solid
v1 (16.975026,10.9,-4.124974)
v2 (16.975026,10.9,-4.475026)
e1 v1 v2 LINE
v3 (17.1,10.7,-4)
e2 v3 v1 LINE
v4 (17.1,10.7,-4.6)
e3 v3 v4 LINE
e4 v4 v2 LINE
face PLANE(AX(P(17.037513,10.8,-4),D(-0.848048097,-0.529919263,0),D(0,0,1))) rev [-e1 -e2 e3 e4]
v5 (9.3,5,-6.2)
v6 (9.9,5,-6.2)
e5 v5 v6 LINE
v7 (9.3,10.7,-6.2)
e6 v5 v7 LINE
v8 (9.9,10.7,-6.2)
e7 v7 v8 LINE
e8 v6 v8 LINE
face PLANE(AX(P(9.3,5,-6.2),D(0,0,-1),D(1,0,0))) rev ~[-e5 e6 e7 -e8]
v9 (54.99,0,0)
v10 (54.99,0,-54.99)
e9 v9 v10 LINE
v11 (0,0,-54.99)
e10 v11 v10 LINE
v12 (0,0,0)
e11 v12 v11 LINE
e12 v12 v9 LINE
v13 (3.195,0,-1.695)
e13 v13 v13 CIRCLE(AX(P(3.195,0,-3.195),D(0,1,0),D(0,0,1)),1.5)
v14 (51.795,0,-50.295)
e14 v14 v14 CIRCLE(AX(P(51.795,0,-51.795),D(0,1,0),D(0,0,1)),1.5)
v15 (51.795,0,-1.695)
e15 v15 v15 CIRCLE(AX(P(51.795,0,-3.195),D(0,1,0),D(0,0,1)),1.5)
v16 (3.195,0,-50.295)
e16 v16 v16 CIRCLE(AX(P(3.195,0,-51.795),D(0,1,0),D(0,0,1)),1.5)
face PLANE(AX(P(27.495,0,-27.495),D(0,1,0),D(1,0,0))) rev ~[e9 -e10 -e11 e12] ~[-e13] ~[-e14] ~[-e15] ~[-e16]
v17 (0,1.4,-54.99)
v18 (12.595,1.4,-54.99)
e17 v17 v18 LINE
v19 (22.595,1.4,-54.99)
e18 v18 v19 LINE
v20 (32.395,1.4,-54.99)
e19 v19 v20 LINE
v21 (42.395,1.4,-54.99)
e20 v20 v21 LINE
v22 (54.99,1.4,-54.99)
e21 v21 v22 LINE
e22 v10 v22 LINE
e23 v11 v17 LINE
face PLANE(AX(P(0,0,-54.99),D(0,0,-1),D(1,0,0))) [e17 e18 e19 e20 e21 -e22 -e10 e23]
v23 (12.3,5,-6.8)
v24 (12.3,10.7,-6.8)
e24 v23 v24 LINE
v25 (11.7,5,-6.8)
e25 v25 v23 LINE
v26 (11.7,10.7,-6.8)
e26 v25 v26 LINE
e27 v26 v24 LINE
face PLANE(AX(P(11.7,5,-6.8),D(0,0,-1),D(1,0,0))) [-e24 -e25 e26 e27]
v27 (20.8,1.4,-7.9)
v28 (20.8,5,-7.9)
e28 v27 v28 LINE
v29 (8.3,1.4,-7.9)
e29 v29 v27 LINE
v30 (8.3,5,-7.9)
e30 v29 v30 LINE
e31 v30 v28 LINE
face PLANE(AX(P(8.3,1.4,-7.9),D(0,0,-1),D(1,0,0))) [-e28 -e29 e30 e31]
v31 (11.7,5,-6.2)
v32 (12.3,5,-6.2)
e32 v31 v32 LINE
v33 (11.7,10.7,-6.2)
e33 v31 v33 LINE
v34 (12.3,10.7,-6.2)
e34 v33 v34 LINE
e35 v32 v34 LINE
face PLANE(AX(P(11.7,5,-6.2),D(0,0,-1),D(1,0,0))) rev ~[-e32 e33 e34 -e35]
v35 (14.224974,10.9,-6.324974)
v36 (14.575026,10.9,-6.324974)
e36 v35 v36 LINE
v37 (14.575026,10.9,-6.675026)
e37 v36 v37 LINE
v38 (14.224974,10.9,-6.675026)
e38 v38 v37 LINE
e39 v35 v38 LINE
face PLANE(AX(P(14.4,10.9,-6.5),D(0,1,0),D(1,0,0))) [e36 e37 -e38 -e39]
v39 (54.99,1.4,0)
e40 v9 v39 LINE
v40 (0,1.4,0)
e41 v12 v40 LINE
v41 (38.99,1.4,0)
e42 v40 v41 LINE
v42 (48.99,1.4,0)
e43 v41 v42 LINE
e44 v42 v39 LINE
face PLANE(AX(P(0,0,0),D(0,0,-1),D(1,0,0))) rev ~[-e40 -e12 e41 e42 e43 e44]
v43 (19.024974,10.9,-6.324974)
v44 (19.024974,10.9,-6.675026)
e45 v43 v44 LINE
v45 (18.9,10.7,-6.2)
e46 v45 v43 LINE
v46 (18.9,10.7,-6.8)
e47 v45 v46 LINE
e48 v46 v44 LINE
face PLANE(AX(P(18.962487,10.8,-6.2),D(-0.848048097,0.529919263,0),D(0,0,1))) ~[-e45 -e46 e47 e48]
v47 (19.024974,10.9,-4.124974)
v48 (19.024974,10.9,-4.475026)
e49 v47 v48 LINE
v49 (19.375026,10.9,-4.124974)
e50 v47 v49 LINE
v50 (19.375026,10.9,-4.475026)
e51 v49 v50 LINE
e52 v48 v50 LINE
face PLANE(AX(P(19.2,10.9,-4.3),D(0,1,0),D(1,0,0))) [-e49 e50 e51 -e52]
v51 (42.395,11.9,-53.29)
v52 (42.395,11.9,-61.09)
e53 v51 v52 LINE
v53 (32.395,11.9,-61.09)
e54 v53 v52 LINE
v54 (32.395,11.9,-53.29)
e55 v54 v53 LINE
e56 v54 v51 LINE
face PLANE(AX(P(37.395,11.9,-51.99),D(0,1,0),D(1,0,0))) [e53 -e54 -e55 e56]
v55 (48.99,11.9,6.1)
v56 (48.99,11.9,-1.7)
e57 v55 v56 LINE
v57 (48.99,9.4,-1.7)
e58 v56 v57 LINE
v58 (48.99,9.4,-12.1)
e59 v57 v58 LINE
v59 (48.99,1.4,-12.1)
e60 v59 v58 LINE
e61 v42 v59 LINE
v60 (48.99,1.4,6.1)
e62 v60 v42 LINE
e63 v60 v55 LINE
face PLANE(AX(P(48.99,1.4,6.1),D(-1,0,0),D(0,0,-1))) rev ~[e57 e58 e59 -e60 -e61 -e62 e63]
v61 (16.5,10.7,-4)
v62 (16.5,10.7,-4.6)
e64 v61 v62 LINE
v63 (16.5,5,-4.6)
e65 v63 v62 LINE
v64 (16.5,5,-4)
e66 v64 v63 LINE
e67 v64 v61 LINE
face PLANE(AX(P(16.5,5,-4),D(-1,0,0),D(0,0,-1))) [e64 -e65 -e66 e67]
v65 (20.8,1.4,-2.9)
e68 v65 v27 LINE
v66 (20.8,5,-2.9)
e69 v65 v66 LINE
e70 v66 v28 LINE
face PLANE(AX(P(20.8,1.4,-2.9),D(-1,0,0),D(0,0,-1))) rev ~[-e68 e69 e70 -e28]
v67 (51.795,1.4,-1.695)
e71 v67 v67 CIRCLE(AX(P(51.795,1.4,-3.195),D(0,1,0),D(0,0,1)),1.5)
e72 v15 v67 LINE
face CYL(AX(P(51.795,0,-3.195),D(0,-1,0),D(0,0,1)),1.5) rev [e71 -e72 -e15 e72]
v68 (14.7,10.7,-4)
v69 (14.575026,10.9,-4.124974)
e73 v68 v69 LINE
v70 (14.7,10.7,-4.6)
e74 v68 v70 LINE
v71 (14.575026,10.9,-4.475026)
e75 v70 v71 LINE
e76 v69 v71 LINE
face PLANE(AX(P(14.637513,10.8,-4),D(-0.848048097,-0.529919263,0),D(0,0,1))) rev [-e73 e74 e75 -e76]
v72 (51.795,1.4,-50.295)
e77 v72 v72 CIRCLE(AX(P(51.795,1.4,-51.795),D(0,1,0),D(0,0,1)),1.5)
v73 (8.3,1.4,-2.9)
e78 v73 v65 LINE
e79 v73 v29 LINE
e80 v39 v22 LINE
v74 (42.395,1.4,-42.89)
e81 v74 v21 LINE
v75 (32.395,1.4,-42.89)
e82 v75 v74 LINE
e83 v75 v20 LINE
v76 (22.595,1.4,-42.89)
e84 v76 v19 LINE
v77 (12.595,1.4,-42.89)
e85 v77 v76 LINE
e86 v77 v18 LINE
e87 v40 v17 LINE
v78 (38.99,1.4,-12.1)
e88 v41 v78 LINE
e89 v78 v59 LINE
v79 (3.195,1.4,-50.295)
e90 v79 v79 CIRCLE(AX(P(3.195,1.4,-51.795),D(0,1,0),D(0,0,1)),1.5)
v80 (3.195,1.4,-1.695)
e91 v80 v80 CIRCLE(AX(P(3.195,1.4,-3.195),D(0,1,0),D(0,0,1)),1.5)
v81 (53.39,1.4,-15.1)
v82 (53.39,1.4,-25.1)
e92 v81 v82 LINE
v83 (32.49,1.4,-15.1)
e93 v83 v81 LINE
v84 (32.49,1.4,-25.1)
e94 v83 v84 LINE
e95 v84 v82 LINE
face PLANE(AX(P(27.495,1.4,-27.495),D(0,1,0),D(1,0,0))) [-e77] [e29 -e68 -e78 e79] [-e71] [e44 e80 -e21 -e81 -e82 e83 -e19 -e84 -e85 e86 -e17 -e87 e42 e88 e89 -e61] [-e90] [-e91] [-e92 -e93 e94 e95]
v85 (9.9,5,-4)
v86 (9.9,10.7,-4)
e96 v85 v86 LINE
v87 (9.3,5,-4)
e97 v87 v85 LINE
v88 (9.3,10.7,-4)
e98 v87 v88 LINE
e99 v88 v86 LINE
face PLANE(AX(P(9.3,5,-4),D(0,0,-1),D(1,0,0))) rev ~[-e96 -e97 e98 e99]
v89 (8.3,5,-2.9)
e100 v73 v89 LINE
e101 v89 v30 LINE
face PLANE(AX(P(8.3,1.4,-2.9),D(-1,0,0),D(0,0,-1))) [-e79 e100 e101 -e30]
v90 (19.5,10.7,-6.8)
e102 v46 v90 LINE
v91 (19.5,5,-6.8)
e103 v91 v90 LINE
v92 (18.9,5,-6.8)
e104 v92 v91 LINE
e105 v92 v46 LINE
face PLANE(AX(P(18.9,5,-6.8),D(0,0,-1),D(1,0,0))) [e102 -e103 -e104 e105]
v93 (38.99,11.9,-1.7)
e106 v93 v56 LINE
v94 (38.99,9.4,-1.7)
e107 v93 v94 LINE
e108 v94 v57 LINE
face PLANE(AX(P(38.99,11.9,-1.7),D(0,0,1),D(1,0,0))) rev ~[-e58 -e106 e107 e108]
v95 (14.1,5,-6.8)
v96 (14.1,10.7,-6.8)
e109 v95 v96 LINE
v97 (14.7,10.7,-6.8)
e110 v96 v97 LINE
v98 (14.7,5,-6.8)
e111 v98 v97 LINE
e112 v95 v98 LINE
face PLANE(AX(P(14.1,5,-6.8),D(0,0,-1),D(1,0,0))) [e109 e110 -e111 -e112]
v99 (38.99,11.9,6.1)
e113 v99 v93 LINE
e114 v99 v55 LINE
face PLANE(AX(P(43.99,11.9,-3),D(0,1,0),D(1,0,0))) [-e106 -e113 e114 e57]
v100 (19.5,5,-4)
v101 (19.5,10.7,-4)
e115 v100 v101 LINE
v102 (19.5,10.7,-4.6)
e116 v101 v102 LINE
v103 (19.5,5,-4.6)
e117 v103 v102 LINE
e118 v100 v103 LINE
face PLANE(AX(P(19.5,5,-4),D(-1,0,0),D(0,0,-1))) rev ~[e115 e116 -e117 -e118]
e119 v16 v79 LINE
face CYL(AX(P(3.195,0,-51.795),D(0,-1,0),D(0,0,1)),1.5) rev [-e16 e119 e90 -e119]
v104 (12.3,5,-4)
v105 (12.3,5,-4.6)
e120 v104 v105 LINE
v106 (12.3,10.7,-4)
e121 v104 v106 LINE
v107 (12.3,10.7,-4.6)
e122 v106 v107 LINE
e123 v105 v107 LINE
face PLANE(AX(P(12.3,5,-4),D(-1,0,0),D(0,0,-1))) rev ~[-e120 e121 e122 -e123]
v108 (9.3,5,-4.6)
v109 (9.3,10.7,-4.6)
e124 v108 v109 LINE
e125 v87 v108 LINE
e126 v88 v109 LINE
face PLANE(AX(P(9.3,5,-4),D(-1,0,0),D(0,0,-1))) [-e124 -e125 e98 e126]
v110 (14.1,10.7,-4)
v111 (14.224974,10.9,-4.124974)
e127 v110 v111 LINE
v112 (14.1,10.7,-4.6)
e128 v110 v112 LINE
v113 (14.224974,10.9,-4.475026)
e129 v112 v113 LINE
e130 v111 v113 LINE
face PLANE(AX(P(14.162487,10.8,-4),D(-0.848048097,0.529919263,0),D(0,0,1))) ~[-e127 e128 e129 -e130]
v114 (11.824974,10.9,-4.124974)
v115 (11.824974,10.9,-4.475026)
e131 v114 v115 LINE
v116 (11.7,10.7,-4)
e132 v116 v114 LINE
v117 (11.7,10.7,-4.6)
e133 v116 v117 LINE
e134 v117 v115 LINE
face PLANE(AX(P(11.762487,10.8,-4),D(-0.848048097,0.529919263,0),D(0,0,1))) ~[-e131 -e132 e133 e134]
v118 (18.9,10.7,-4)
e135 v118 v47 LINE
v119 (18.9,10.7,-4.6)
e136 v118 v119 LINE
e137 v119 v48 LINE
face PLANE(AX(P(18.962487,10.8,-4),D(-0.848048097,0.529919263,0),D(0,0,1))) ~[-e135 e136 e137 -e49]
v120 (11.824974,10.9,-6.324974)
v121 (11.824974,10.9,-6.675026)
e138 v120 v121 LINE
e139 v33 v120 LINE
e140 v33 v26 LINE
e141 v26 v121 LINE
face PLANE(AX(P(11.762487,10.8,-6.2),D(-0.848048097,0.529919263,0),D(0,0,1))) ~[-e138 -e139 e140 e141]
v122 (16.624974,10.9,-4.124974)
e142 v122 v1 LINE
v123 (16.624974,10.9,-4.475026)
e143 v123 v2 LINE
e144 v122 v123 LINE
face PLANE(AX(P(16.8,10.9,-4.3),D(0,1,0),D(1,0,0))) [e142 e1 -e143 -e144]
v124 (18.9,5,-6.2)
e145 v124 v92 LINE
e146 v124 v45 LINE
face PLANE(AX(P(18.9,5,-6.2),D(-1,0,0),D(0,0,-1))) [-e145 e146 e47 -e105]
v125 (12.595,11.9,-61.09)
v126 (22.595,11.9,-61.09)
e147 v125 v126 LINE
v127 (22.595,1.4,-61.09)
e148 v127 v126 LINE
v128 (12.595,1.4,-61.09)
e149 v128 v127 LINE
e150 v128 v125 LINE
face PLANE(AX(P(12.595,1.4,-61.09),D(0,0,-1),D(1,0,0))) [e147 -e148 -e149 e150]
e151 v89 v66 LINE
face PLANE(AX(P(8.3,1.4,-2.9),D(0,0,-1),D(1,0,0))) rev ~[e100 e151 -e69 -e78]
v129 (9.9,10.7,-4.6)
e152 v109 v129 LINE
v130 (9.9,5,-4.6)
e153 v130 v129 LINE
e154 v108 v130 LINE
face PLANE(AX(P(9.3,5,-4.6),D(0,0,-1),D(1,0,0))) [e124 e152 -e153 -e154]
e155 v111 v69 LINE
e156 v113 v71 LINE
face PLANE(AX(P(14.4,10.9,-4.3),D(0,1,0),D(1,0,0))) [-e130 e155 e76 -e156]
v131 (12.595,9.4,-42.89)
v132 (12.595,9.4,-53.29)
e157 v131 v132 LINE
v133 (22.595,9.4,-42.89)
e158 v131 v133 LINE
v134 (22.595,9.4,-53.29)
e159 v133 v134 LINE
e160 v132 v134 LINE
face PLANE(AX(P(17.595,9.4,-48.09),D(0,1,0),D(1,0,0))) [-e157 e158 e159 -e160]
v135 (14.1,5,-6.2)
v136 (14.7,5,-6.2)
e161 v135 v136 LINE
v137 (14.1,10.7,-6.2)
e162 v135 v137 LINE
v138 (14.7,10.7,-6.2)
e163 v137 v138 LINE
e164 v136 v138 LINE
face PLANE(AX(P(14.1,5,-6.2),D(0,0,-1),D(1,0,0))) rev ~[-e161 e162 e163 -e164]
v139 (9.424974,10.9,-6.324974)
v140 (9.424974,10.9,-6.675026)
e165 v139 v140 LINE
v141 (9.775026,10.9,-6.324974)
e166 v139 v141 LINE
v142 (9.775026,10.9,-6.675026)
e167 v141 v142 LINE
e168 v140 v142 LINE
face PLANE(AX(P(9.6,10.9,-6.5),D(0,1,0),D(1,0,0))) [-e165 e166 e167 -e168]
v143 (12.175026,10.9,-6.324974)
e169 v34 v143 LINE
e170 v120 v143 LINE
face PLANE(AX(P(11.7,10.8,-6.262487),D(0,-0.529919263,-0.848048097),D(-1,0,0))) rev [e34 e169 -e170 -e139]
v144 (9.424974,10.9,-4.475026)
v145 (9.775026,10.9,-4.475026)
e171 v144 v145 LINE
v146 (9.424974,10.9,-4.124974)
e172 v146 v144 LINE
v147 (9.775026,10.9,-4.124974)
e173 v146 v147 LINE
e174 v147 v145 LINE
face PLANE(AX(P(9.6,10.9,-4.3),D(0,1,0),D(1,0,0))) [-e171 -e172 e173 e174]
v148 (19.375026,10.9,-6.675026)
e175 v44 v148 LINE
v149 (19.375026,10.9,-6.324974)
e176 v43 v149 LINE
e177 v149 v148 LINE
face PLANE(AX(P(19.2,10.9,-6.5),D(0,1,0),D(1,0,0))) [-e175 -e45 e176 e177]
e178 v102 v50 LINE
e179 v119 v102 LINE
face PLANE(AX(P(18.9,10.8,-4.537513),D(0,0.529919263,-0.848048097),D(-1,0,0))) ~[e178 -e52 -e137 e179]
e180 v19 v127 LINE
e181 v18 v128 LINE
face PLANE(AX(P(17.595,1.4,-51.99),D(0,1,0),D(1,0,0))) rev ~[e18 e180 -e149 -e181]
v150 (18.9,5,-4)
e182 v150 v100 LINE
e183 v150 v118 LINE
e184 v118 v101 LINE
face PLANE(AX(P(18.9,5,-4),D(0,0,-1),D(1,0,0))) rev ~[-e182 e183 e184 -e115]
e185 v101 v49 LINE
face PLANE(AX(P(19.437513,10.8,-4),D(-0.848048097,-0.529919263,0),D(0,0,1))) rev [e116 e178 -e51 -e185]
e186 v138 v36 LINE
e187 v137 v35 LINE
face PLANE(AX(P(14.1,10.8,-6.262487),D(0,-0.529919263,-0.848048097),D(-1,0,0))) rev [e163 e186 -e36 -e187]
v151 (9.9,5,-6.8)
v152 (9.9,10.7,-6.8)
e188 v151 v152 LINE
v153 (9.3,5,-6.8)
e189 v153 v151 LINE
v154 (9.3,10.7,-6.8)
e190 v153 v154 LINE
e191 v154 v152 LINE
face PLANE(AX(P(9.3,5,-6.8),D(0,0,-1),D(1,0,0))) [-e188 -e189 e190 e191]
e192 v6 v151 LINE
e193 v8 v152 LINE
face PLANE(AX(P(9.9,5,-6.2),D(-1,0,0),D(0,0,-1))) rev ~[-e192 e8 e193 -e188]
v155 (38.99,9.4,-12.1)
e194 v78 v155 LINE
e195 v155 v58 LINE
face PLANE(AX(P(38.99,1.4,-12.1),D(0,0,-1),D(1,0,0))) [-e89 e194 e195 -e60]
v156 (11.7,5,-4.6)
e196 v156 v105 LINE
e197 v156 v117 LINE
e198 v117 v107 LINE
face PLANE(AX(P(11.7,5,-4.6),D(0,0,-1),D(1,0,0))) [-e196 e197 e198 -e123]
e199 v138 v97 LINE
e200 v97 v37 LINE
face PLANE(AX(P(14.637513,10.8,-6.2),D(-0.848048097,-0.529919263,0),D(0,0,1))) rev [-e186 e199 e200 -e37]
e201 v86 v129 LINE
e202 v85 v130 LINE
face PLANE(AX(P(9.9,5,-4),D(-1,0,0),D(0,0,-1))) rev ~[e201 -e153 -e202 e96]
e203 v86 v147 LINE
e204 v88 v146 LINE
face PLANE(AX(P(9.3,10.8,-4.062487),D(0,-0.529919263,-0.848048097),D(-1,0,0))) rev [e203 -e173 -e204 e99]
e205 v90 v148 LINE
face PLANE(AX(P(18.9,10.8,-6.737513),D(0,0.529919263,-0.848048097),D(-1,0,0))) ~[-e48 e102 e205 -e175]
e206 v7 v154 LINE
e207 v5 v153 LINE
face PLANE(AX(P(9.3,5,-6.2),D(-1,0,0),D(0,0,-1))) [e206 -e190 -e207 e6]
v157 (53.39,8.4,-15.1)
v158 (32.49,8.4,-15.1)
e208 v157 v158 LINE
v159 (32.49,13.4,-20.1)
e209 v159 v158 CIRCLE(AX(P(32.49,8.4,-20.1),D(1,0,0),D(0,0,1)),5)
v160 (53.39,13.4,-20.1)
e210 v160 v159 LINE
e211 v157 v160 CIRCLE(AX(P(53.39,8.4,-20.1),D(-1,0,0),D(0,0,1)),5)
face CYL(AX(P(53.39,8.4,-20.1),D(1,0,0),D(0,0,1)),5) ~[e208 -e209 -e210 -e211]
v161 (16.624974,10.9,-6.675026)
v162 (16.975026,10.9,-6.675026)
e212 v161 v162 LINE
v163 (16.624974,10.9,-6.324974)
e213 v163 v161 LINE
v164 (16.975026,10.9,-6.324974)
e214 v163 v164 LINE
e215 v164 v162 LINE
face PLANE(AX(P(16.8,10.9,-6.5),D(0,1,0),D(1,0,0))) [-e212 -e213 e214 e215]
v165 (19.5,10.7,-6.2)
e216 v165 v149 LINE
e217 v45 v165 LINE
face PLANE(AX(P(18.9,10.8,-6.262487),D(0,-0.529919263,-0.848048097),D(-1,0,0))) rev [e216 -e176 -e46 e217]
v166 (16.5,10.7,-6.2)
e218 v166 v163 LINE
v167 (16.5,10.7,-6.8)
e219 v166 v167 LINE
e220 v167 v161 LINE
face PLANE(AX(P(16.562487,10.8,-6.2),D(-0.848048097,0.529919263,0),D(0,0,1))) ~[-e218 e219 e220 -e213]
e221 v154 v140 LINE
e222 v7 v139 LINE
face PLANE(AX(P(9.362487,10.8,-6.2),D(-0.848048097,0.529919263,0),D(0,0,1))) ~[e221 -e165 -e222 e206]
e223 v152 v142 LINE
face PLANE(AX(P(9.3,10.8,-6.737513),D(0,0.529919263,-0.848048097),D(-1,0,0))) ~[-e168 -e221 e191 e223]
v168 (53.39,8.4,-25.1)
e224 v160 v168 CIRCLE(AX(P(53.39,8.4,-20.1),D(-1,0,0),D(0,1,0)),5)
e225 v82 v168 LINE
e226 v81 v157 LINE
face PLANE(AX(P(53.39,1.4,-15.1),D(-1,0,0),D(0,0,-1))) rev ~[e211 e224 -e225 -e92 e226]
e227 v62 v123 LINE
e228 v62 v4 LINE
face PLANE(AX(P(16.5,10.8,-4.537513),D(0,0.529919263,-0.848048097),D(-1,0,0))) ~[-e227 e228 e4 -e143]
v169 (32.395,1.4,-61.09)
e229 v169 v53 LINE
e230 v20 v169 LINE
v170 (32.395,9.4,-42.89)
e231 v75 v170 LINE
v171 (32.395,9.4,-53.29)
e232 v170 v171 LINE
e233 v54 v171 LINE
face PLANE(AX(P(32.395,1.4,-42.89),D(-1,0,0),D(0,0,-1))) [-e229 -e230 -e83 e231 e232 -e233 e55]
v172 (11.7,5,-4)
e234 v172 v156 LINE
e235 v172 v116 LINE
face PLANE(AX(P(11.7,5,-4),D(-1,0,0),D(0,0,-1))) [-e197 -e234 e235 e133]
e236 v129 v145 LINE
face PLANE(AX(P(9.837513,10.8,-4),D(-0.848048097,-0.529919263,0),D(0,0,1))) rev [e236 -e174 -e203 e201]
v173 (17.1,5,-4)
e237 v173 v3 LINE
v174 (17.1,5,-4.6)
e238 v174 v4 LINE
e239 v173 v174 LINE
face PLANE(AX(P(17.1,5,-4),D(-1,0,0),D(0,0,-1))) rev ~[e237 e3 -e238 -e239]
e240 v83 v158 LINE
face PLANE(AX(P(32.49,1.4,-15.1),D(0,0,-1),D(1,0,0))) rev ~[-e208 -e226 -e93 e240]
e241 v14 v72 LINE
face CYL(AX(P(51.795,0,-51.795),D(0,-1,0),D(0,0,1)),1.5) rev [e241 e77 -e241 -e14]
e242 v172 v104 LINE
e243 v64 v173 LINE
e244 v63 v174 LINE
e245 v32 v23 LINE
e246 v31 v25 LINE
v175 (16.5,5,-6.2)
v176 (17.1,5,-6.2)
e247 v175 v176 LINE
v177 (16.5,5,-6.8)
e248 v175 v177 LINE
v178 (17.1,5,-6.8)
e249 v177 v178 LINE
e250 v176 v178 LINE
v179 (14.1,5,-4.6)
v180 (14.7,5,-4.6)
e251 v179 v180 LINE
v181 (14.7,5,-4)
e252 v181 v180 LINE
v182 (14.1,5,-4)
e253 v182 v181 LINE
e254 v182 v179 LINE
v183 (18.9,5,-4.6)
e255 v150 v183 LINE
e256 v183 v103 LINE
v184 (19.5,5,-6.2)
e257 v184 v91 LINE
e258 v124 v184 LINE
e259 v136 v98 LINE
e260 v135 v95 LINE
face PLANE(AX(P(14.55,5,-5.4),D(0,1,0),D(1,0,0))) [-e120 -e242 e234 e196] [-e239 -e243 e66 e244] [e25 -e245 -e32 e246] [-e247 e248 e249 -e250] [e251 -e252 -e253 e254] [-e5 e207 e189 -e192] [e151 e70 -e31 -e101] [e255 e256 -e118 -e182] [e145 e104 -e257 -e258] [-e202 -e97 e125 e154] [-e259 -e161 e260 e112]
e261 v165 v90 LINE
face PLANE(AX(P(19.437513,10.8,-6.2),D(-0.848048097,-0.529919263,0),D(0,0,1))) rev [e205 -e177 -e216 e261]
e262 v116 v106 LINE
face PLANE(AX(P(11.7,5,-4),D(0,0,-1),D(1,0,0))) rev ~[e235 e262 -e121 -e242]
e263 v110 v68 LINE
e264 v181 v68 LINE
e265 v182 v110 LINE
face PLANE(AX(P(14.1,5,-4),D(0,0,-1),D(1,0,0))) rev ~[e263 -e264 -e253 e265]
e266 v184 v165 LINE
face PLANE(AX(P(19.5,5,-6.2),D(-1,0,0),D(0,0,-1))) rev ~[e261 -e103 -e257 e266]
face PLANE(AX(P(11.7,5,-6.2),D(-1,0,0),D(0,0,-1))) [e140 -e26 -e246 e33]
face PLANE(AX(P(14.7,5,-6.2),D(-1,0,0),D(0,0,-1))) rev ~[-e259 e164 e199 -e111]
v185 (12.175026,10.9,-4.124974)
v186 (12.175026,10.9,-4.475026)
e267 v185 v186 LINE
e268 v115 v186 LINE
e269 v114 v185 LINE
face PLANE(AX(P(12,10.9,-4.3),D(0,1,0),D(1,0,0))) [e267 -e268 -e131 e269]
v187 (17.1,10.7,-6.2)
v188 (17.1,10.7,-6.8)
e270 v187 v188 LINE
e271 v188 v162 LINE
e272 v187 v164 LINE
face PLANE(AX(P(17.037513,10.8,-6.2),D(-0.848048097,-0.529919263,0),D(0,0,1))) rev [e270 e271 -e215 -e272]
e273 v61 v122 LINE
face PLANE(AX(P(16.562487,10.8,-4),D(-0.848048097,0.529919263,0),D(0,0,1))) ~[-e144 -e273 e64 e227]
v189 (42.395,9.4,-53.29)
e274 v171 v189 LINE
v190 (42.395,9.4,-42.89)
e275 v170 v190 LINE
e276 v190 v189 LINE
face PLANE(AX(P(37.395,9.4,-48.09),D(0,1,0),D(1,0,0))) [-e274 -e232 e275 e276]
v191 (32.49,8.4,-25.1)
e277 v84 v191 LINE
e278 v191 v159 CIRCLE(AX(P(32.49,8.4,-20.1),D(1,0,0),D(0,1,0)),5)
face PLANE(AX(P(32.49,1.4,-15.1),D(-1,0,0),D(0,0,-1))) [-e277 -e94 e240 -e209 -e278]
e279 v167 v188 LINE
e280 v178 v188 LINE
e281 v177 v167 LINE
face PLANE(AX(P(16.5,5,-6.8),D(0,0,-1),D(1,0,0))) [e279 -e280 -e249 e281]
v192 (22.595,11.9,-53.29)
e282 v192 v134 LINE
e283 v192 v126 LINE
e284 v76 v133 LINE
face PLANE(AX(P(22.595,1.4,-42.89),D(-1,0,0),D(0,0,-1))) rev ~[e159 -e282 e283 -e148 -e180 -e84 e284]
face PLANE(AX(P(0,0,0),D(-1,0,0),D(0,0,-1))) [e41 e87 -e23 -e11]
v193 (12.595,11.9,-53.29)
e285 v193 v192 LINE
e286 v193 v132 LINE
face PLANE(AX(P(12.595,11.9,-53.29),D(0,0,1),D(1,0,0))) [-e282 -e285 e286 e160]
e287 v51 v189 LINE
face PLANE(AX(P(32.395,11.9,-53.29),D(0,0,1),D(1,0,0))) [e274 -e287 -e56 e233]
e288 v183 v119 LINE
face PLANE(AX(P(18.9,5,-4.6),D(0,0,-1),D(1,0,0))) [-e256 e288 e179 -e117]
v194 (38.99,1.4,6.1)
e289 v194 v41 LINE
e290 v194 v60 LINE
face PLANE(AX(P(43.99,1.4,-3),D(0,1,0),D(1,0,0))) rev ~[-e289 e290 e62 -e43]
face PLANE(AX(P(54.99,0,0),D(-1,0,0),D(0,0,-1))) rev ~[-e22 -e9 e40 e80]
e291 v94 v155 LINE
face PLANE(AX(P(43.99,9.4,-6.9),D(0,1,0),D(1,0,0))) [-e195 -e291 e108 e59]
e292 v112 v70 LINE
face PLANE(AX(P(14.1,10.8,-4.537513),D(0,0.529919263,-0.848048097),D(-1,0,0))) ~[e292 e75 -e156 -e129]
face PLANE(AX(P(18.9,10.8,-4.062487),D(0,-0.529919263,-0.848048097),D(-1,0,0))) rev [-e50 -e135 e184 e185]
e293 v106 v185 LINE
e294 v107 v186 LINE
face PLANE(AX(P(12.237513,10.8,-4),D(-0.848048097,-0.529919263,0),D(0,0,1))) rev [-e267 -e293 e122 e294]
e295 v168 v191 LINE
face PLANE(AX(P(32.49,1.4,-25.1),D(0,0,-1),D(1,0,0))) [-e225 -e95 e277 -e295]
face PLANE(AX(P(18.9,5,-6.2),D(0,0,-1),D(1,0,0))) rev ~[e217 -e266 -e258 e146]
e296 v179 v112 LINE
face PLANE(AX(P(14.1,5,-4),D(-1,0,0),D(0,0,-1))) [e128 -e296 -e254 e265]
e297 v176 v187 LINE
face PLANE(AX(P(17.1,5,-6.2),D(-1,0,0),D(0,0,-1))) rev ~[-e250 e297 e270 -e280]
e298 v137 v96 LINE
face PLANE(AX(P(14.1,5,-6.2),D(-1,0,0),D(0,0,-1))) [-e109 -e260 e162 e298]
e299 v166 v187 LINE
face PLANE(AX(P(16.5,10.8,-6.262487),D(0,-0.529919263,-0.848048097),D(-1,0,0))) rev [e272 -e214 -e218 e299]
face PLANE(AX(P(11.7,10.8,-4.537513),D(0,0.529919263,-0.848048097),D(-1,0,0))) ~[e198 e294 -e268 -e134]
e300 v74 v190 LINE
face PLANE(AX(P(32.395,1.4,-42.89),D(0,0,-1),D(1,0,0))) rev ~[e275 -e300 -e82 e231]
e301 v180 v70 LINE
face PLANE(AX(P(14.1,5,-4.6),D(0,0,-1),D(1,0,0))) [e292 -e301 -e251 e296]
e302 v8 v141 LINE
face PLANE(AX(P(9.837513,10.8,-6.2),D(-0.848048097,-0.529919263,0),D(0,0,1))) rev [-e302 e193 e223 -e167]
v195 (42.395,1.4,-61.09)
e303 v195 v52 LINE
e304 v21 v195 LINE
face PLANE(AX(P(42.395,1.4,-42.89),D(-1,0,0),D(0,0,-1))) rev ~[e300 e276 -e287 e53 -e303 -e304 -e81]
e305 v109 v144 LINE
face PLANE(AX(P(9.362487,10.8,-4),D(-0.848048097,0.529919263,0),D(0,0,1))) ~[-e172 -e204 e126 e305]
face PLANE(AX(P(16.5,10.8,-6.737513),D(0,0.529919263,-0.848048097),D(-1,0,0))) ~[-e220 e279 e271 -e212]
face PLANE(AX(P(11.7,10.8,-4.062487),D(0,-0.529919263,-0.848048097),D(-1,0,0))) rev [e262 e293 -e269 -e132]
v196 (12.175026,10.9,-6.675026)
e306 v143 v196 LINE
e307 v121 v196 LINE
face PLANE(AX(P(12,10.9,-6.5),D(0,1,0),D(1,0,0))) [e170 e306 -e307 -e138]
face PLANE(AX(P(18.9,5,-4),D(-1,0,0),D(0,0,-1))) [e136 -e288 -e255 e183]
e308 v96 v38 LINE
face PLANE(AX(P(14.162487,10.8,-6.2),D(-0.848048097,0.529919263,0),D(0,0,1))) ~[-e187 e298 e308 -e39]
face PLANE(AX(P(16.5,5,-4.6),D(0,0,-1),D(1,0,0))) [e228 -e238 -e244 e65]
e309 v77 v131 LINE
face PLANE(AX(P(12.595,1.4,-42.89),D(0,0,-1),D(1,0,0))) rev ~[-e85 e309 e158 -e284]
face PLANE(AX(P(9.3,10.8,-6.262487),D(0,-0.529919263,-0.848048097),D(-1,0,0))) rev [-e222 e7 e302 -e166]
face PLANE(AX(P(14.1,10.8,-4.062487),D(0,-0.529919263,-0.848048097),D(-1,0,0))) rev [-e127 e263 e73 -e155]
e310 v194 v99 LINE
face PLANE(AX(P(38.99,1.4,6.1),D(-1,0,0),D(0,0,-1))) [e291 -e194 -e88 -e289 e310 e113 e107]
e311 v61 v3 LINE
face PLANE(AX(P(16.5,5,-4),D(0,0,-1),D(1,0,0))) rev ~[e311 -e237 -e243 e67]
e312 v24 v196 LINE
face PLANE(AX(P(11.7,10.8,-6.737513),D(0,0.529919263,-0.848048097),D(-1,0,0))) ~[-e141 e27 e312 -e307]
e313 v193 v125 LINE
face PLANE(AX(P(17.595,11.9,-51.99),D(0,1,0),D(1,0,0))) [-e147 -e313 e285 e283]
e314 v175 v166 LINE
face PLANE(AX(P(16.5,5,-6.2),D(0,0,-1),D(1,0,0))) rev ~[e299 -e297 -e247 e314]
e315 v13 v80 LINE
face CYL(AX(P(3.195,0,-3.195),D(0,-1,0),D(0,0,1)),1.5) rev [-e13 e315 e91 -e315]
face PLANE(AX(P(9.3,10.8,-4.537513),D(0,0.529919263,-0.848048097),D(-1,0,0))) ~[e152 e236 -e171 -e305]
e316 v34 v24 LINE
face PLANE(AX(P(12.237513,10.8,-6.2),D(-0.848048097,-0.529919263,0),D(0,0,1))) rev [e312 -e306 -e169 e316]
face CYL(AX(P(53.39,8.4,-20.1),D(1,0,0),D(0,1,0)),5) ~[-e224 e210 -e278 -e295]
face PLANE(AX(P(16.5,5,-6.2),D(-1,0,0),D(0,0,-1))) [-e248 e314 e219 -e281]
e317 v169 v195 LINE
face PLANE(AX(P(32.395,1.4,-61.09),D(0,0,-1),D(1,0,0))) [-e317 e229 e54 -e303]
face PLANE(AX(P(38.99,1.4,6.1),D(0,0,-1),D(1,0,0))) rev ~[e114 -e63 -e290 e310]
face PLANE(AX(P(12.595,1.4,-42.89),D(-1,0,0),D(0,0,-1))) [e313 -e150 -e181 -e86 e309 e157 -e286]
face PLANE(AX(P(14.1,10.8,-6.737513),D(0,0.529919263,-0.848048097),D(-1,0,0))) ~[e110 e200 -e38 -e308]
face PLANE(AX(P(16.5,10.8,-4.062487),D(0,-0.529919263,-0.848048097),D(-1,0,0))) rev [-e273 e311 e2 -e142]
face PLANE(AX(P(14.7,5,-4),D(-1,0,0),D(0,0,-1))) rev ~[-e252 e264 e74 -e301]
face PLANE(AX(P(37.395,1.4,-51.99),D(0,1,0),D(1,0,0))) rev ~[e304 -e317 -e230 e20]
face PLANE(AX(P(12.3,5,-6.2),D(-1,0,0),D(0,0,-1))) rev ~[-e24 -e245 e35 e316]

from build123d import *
from OCP.BRepFilletAPI import BRepFilletAPI_MakeChamfer

# Parameters (mm, degrees)
SKETCH1_W                   = 54.99
SKETCH1_H                   = 54.99
SKETCH1_R                   = 1.5
BOSS_EXTRUDE1_DEPTH         = 1.4
SKETCH2_W                   = 10
SKETCH2_H                   = 18.2
BOSS_EXTRUDE2_DEPTH         = 10.5
SKETCH3_W                   = 10
SKETCH3_H                   = 10.4
CUT_EXTRUDE1_DEPTH          = 2.5
SKETCH4_W                   = 12.5
SKETCH4_H                   = 5
BOSS_EXTRUDE4_DEPTH         = 3.6
SKETCH5_W                   = 0.6
SKETCH5_H                   = 0.6
BOSS_EXTRUDE5_DEPTH         = 5.9
CHAMFER1_SIZE               = 0.2
CHAMFER1_SIZE2              = 0.12497387
LPATTERN1_COUNT             = 5
LPATTERN1_PITCH             = 2.4
CHAMFER1_OF_LPATTERN1_SIZE  = 0.2
CHAMFER1_OF_LPATTERN1_SIZE2 = 0.12497387
SKETCH6_W                   = 20.9
SKETCH6_H                   = 10
BOSS_EXTRUDE6_DEPTH         = 12
CUT_EXTRUDE2_DEPTH          = 83.231625303


with BuildPart() as part:
    # Sketch1 → Boss-Extrude1 (new body)
    with BuildSketch(Plane(origin=(0, 0, 0), x_dir=(1, 0, 0), z_dir=(0, 1, 0))):
        with Locations((27.495, 27.495)):
            Rectangle(SKETCH1_W, SKETCH1_H)
        with Locations(Location((3.195, 51.795, 0), (0, 0, 270))):
            Circle(SKETCH1_R, mode=Mode.SUBTRACT)
        with Locations(Location((51.795, 51.795, 0), (0, 0, 270))):
            Circle(SKETCH1_R, mode=Mode.SUBTRACT)
        with Locations(Location((3.195, 3.195, 0), (0, 0, 270))):
            Circle(SKETCH1_R, mode=Mode.SUBTRACT)
        with Locations(Location((51.795, 3.195, 0), (0, 0, 270))):
            Circle(SKETCH1_R, mode=Mode.SUBTRACT)
    extrude(amount=BOSS_EXTRUDE1_DEPTH)

    # Sketch2 → Boss-Extrude2 (add)
    with BuildSketch(Plane(origin=(0, 1.4, 0), x_dir=(1, 0, 0), z_dir=(0, 1, 0))):
        with Locations((17.595, 51.99)):
            Rectangle(SKETCH2_W, SKETCH2_H)
        with Locations((37.395, 51.99)):
            Rectangle(SKETCH2_W, SKETCH2_H)
        with Locations((43.99, 3)):
            Rectangle(SKETCH2_W, SKETCH2_H)
    extrude(amount=BOSS_EXTRUDE2_DEPTH)

    # Sketch3 → Cut-Extrude1 (cut)
    with BuildSketch(Plane(origin=(0, 11.9, 0), x_dir=(1, 0, 0), z_dir=(0, 1, 0))):
        with Locations((37.395, 48.09)):
            Rectangle(SKETCH3_W, SKETCH3_H)
        with Locations((17.595, 48.09)):
            Rectangle(SKETCH3_W, SKETCH3_H)
        with Locations((43.99, 6.9)):
            Rectangle(SKETCH3_W, SKETCH3_H)
    extrude(amount=-CUT_EXTRUDE1_DEPTH, mode=Mode.SUBTRACT)

    # Sketch4 → Boss-Extrude4 (add)
    with BuildSketch(Plane(origin=(0, 1.4, 0), x_dir=(1, 0, 0), z_dir=(0, 1, 0))):
        with Locations((14.55, 5.4)):
            Rectangle(SKETCH4_W, SKETCH4_H)
    extrude(amount=BOSS_EXTRUDE4_DEPTH)

    # Sketch5 → Boss-Extrude5 (add)
    with BuildSketch(Plane(origin=(0, 5, 0), x_dir=(1, 0, 0), z_dir=(0, 1, 0))):
        with Locations((9.6, 6.5)):
            Rectangle(SKETCH5_W, SKETCH5_H)
        with Locations((9.6, 4.3)):
            Rectangle(SKETCH5_W, SKETCH5_H)
    boss_extrude5 = extrude(amount=BOSS_EXTRUDE5_DEPTH)

    # Chamfer1: one chamfer whose edges measure the first distance from different faces: ONE call of the kernel's chamfer builder (chamfer() names one face for all edges)
    chamfer1_edges_1 = [part.edges().sort_by_distance(p)[0] for p in [
        (9.3, 10.9, -6.5),
    ]]
    chamfer1_side_1 = [part.faces().sort_by_distance(p)[0] for p in [
        (9.3, 7.95, -6.5),
    ]]
    chamfer1_edges_2 = [part.edges().sort_by_distance(p)[0] for p in [
        (9.6, 10.9, -6.2),
    ]]
    chamfer1_side_2 = [part.faces().sort_by_distance(p)[0] for p in [
        (9.6, 7.95, -6.2),
    ]]
    chamfer1_edges_3 = [part.edges().sort_by_distance(p)[0] for p in [
        (9.9, 10.9, -6.5),
    ]]
    chamfer1_side_3 = [part.faces().sort_by_distance(p)[0] for p in [
        (9.9, 7.95, -6.5),
    ]]
    chamfer1_edges_4 = [part.edges().sort_by_distance(p)[0] for p in [
        (9.6, 10.9, -6.8),
    ]]
    chamfer1_side_4 = [part.faces().sort_by_distance(p)[0] for p in [
        (9.6, 7.95, -6.8),
    ]]
    chamfer1_edges_5 = [part.edges().sort_by_distance(p)[0] for p in [
        (9.3, 10.9, -4.3),
    ]]
    chamfer1_side_5 = [part.faces().sort_by_distance(p)[0] for p in [
        (9.3, 7.95, -4.3),
    ]]
    chamfer1_edges_6 = [part.edges().sort_by_distance(p)[0] for p in [
        (9.6, 10.9, -4),
    ]]
    chamfer1_side_6 = [part.faces().sort_by_distance(p)[0] for p in [
        (9.6, 7.95, -4),
    ]]
    chamfer1_edges_7 = [part.edges().sort_by_distance(p)[0] for p in [
        (9.9, 10.9, -4.3),
    ]]
    chamfer1_side_7 = [part.faces().sort_by_distance(p)[0] for p in [
        (9.9, 7.95, -4.3),
    ]]
    chamfer1_edges_8 = [part.edges().sort_by_distance(p)[0] for p in [
        (9.6, 10.9, -4.6),
    ]]
    chamfer1_side_8 = [part.faces().sort_by_distance(p)[0] for p in [
        (9.6, 7.95, -4.6),
    ]]
    chamfer1 = BRepFilletAPI_MakeChamfer(part.part.solid().wrapped)
    for e in chamfer1_edges_1:
        chamfer1.Add(CHAMFER1_SIZE, CHAMFER1_SIZE2, e.wrapped, chamfer1_side_1[0].wrapped)  # the first distance lies on this face
    for e in chamfer1_edges_2:
        chamfer1.Add(CHAMFER1_SIZE, CHAMFER1_SIZE2, e.wrapped, chamfer1_side_2[0].wrapped)  # the first distance lies on this face
    for e in chamfer1_edges_3:
        chamfer1.Add(CHAMFER1_SIZE, CHAMFER1_SIZE2, e.wrapped, chamfer1_side_3[0].wrapped)  # the first distance lies on this face
    for e in chamfer1_edges_4:
        chamfer1.Add(CHAMFER1_SIZE, CHAMFER1_SIZE2, e.wrapped, chamfer1_side_4[0].wrapped)  # the first distance lies on this face
    for e in chamfer1_edges_5:
        chamfer1.Add(CHAMFER1_SIZE, CHAMFER1_SIZE2, e.wrapped, chamfer1_side_5[0].wrapped)  # the first distance lies on this face
    for e in chamfer1_edges_6:
        chamfer1.Add(CHAMFER1_SIZE, CHAMFER1_SIZE2, e.wrapped, chamfer1_side_6[0].wrapped)  # the first distance lies on this face
    for e in chamfer1_edges_7:
        chamfer1.Add(CHAMFER1_SIZE, CHAMFER1_SIZE2, e.wrapped, chamfer1_side_7[0].wrapped)  # the first distance lies on this face
    for e in chamfer1_edges_8:
        chamfer1.Add(CHAMFER1_SIZE, CHAMFER1_SIZE2, e.wrapped, chamfer1_side_8[0].wrapped)  # the first distance lies on this face
    add(Compound.cast(chamfer1.Shape()), mode=Mode.REPLACE)

    # LPattern1: Boss-Extrude5 ×5
    with Locations(*[(i * LPATTERN1_PITCH, 0, 0) for i in range(1, LPATTERN1_COUNT)]):
        add(boss_extrude5)

    # Chamfer1 of LPattern1: one chamfer whose edges measure the first distance from different faces: ONE call of the kernel's chamfer builder (chamfer() names one face for all edges)
    chamfer1_of_lpattern1_edges_1 = [part.edges().sort_by_distance(p)[0] for p in [
        (11.7, 10.9, -6.5),
    ]]
    chamfer1_of_lpattern1_side_1 = [part.faces().sort_by_distance(p)[0] for p in [
        (11.7, 7.95, -6.5),
    ]]
    chamfer1_of_lpattern1_edges_2 = [part.edges().sort_by_distance(p)[0] for p in [
        (12, 10.9, -6.2),
    ]]
    chamfer1_of_lpattern1_side_2 = [part.faces().sort_by_distance(p)[0] for p in [
        (12, 7.95, -6.2),
    ]]
    chamfer1_of_lpattern1_edges_3 = [part.edges().sort_by_distance(p)[0] for p in [
        (12.3, 10.9, -6.5),
    ]]
    chamfer1_of_lpattern1_side_3 = [part.faces().sort_by_distance(p)[0] for p in [
        (12.3, 7.95, -6.5),
    ]]
    chamfer1_of_lpattern1_edges_4 = [part.edges().sort_by_distance(p)[0] for p in [
        (12, 10.9, -6.8),
    ]]
    chamfer1_of_lpattern1_side_4 = [part.faces().sort_by_distance(p)[0] for p in [
        (12, 7.95, -6.8),
    ]]
    chamfer1_of_lpattern1_edges_5 = [part.edges().sort_by_distance(p)[0] for p in [
        (11.7, 10.9, -4.3),
    ]]
    chamfer1_of_lpattern1_side_5 = [part.faces().sort_by_distance(p)[0] for p in [
        (11.7, 7.95, -4.3),
    ]]
    chamfer1_of_lpattern1_edges_6 = [part.edges().sort_by_distance(p)[0] for p in [
        (12, 10.9, -4),
    ]]
    chamfer1_of_lpattern1_side_6 = [part.faces().sort_by_distance(p)[0] for p in [
        (12, 7.95, -4),
    ]]
    chamfer1_of_lpattern1_edges_7 = [part.edges().sort_by_distance(p)[0] for p in [
        (12.3, 10.9, -4.3),
    ]]
    chamfer1_of_lpattern1_side_7 = [part.faces().sort_by_distance(p)[0] for p in [
        (12.3, 7.95, -4.3),
    ]]
    chamfer1_of_lpattern1_edges_8 = [part.edges().sort_by_distance(p)[0] for p in [
        (12, 10.9, -4.6),
    ]]
    chamfer1_of_lpattern1_side_8 = [part.faces().sort_by_distance(p)[0] for p in [
        (12, 7.95, -4.6),
    ]]
    chamfer1_of_lpattern1_edges_9 = [part.edges().sort_by_distance(p)[0] for p in [
        (14.1, 10.9, -6.5),
    ]]
    chamfer1_of_lpattern1_side_9 = [part.faces().sort_by_distance(p)[0] for p in [
        (14.1, 7.95, -6.5),
    ]]
    chamfer1_of_lpattern1_edges_10 = [part.edges().sort_by_distance(p)[0] for p in [
        (14.4, 10.9, -6.2),
    ]]
    chamfer1_of_lpattern1_side_10 = [part.faces().sort_by_distance(p)[0] for p in [
        (14.4, 7.95, -6.2),
    ]]
    chamfer1_of_lpattern1_edges_11 = [part.edges().sort_by_distance(p)[0] for p in [
        (14.7, 10.9, -6.5),
    ]]
    chamfer1_of_lpattern1_side_11 = [part.faces().sort_by_distance(p)[0] for p in [
        (14.7, 7.95, -6.5),
    ]]
    chamfer1_of_lpattern1_edges_12 = [part.edges().sort_by_distance(p)[0] for p in [
        (14.4, 10.9, -6.8),
    ]]
    chamfer1_of_lpattern1_side_12 = [part.faces().sort_by_distance(p)[0] for p in [
        (14.4, 7.95, -6.8),
    ]]
    chamfer1_of_lpattern1_edges_13 = [part.edges().sort_by_distance(p)[0] for p in [
        (14.1, 10.9, -4.3),
    ]]
    chamfer1_of_lpattern1_side_13 = [part.faces().sort_by_distance(p)[0] for p in [
        (14.1, 7.95, -4.3),
    ]]
    chamfer1_of_lpattern1_edges_14 = [part.edges().sort_by_distance(p)[0] for p in [
        (14.4, 10.9, -4),
    ]]
    chamfer1_of_lpattern1_side_14 = [part.faces().sort_by_distance(p)[0] for p in [
        (14.4, 7.95, -4),
    ]]
    chamfer1_of_lpattern1_edges_15 = [part.edges().sort_by_distance(p)[0] for p in [
        (14.7, 10.9, -4.3),
    ]]
    chamfer1_of_lpattern1_side_15 = [part.faces().sort_by_distance(p)[0] for p in [
        (14.7, 7.95, -4.3),
    ]]
    chamfer1_of_lpattern1_edges_16 = [part.edges().sort_by_distance(p)[0] for p in [
        (14.4, 10.9, -4.6),
    ]]
    chamfer1_of_lpattern1_side_16 = [part.faces().sort_by_distance(p)[0] for p in [
        (14.4, 7.95, -4.6),
    ]]
    chamfer1_of_lpattern1_edges_17 = [part.edges().sort_by_distance(p)[0] for p in [
        (16.5, 10.9, -6.5),
    ]]
    chamfer1_of_lpattern1_side_17 = [part.faces().sort_by_distance(p)[0] for p in [
        (16.5, 7.95, -6.5),
    ]]
    chamfer1_of_lpattern1_edges_18 = [part.edges().sort_by_distance(p)[0] for p in [
        (16.8, 10.9, -6.2),
    ]]
    chamfer1_of_lpattern1_side_18 = [part.faces().sort_by_distance(p)[0] for p in [
        (16.8, 7.95, -6.2),
    ]]
    chamfer1_of_lpattern1_edges_19 = [part.edges().sort_by_distance(p)[0] for p in [
        (17.1, 10.9, -6.5),
    ]]
    chamfer1_of_lpattern1_side_19 = [part.faces().sort_by_distance(p)[0] for p in [
        (17.1, 7.95, -6.5),
    ]]
    chamfer1_of_lpattern1_edges_20 = [part.edges().sort_by_distance(p)[0] for p in [
        (16.8, 10.9, -6.8),
    ]]
    chamfer1_of_lpattern1_side_20 = [part.faces().sort_by_distance(p)[0] for p in [
        (16.8, 7.95, -6.8),
    ]]
    chamfer1_of_lpattern1_edges_21 = [part.edges().sort_by_distance(p)[0] for p in [
        (16.5, 10.9, -4.3),
    ]]
    chamfer1_of_lpattern1_side_21 = [part.faces().sort_by_distance(p)[0] for p in [
        (16.5, 7.95, -4.3),
    ]]
    chamfer1_of_lpattern1_edges_22 = [part.edges().sort_by_distance(p)[0] for p in [
        (16.8, 10.9, -4),
    ]]
    chamfer1_of_lpattern1_side_22 = [part.faces().sort_by_distance(p)[0] for p in [
        (16.8, 7.95, -4),
    ]]
    chamfer1_of_lpattern1_edges_23 = [part.edges().sort_by_distance(p)[0] for p in [
        (17.1, 10.9, -4.3),
    ]]
    chamfer1_of_lpattern1_side_23 = [part.faces().sort_by_distance(p)[0] for p in [
        (17.1, 7.95, -4.3),
    ]]
    chamfer1_of_lpattern1_edges_24 = [part.edges().sort_by_distance(p)[0] for p in [
        (16.8, 10.9, -4.6),
    ]]
    chamfer1_of_lpattern1_side_24 = [part.faces().sort_by_distance(p)[0] for p in [
        (16.8, 7.95, -4.6),
    ]]
    chamfer1_of_lpattern1_edges_25 = [part.edges().sort_by_distance(p)[0] for p in [
        (18.9, 10.9, -6.5),
    ]]
    chamfer1_of_lpattern1_side_25 = [part.faces().sort_by_distance(p)[0] for p in [
        (18.9, 7.95, -6.5),
    ]]
    chamfer1_of_lpattern1_edges_26 = [part.edges().sort_by_distance(p)[0] for p in [
        (19.2, 10.9, -6.2),
    ]]
    chamfer1_of_lpattern1_side_26 = [part.faces().sort_by_distance(p)[0] for p in [
        (19.2, 7.95, -6.2),
    ]]
    chamfer1_of_lpattern1_edges_27 = [part.edges().sort_by_distance(p)[0] for p in [
        (19.5, 10.9, -6.5),
    ]]
    chamfer1_of_lpattern1_side_27 = [part.faces().sort_by_distance(p)[0] for p in [
        (19.5, 7.95, -6.5),
    ]]
    chamfer1_of_lpattern1_edges_28 = [part.edges().sort_by_distance(p)[0] for p in [
        (19.2, 10.9, -6.8),
    ]]
    chamfer1_of_lpattern1_side_28 = [part.faces().sort_by_distance(p)[0] for p in [
        (19.2, 7.95, -6.8),
    ]]
    chamfer1_of_lpattern1_edges_29 = [part.edges().sort_by_distance(p)[0] for p in [
        (18.9, 10.9, -4.3),
    ]]
    chamfer1_of_lpattern1_side_29 = [part.faces().sort_by_distance(p)[0] for p in [
        (18.9, 7.95, -4.3),
    ]]
    chamfer1_of_lpattern1_edges_30 = [part.edges().sort_by_distance(p)[0] for p in [
        (19.2, 10.9, -4),
    ]]
    chamfer1_of_lpattern1_side_30 = [part.faces().sort_by_distance(p)[0] for p in [
        (19.2, 7.95, -4),
    ]]
    chamfer1_of_lpattern1_edges_31 = [part.edges().sort_by_distance(p)[0] for p in [
        (19.5, 10.9, -4.3),
    ]]
    chamfer1_of_lpattern1_side_31 = [part.faces().sort_by_distance(p)[0] for p in [
        (19.5, 7.95, -4.3),
    ]]
    chamfer1_of_lpattern1_edges_32 = [part.edges().sort_by_distance(p)[0] for p in [
        (19.2, 10.9, -4.6),
    ]]
    chamfer1_of_lpattern1_side_32 = [part.faces().sort_by_distance(p)[0] for p in [
        (19.2, 7.95, -4.6),
    ]]
    chamfer1_of_lpattern1 = BRepFilletAPI_MakeChamfer(part.part.solid().wrapped)
    for e in chamfer1_of_lpattern1_edges_1:
        chamfer1_of_lpattern1.Add(CHAMFER1_OF_LPATTERN1_SIZE, CHAMFER1_OF_LPATTERN1_SIZE2, e.wrapped, chamfer1_of_lpattern1_side_1[0].wrapped)  # the first distance lies on this face
    for e in chamfer1_of_lpattern1_edges_2:
        chamfer1_of_lpattern1.Add(CHAMFER1_OF_LPATTERN1_SIZE, CHAMFER1_OF_LPATTERN1_SIZE2, e.wrapped, chamfer1_of_lpattern1_side_2[0].wrapped)  # the first distance lies on this face
    for e in chamfer1_of_lpattern1_edges_3:
        chamfer1_of_lpattern1.Add(CHAMFER1_OF_LPATTERN1_SIZE, CHAMFER1_OF_LPATTERN1_SIZE2, e.wrapped, chamfer1_of_lpattern1_side_3[0].wrapped)  # the first distance lies on this face
    for e in chamfer1_of_lpattern1_edges_4:
        chamfer1_of_lpattern1.Add(CHAMFER1_OF_LPATTERN1_SIZE, CHAMFER1_OF_LPATTERN1_SIZE2, e.wrapped, chamfer1_of_lpattern1_side_4[0].wrapped)  # the first distance lies on this face
    for e in chamfer1_of_lpattern1_edges_5:
        chamfer1_of_lpattern1.Add(CHAMFER1_OF_LPATTERN1_SIZE, CHAMFER1_OF_LPATTERN1_SIZE2, e.wrapped, chamfer1_of_lpattern1_side_5[0].wrapped)  # the first distance lies on this face
    for e in chamfer1_of_lpattern1_edges_6:
        chamfer1_of_lpattern1.Add(CHAMFER1_OF_LPATTERN1_SIZE, CHAMFER1_OF_LPATTERN1_SIZE2, e.wrapped, chamfer1_of_lpattern1_side_6[0].wrapped)  # the first distance lies on this face
    for e in chamfer1_of_lpattern1_edges_7:
        chamfer1_of_lpattern1.Add(CHAMFER1_OF_LPATTERN1_SIZE, CHAMFER1_OF_LPATTERN1_SIZE2, e.wrapped, chamfer1_of_lpattern1_side_7[0].wrapped)  # the first distance lies on this face
    for e in chamfer1_of_lpattern1_edges_8:
        chamfer1_of_lpattern1.Add(CHAMFER1_OF_LPATTERN1_SIZE, CHAMFER1_OF_LPATTERN1_SIZE2, e.wrapped, chamfer1_of_lpattern1_side_8[0].wrapped)  # the first distance lies on this face
    for e in chamfer1_of_lpattern1_edges_9:
        chamfer1_of_lpattern1.Add(CHAMFER1_OF_LPATTERN1_SIZE, CHAMFER1_OF_LPATTERN1_SIZE2, e.wrapped, chamfer1_of_lpattern1_side_9[0].wrapped)  # the first distance lies on this face
    for e in chamfer1_of_lpattern1_edges_10:
        chamfer1_of_lpattern1.Add(CHAMFER1_OF_LPATTERN1_SIZE, CHAMFER1_OF_LPATTERN1_SIZE2, e.wrapped, chamfer1_of_lpattern1_side_10[0].wrapped)  # the first distance lies on this face
    for e in chamfer1_of_lpattern1_edges_11:
        chamfer1_of_lpattern1.Add(CHAMFER1_OF_LPATTERN1_SIZE, CHAMFER1_OF_LPATTERN1_SIZE2, e.wrapped, chamfer1_of_lpattern1_side_11[0].wrapped)  # the first distance lies on this face
    for e in chamfer1_of_lpattern1_edges_12:
        chamfer1_of_lpattern1.Add(CHAMFER1_OF_LPATTERN1_SIZE, CHAMFER1_OF_LPATTERN1_SIZE2, e.wrapped, chamfer1_of_lpattern1_side_12[0].wrapped)  # the first distance lies on this face
    for e in chamfer1_of_lpattern1_edges_13:
        chamfer1_of_lpattern1.Add(CHAMFER1_OF_LPATTERN1_SIZE, CHAMFER1_OF_LPATTERN1_SIZE2, e.wrapped, chamfer1_of_lpattern1_side_13[0].wrapped)  # the first distance lies on this face
    for e in chamfer1_of_lpattern1_edges_14:
        chamfer1_of_lpattern1.Add(CHAMFER1_OF_LPATTERN1_SIZE, CHAMFER1_OF_LPATTERN1_SIZE2, e.wrapped, chamfer1_of_lpattern1_side_14[0].wrapped)  # the first distance lies on this face
    for e in chamfer1_of_lpattern1_edges_15:
        chamfer1_of_lpattern1.Add(CHAMFER1_OF_LPATTERN1_SIZE, CHAMFER1_OF_LPATTERN1_SIZE2, e.wrapped, chamfer1_of_lpattern1_side_15[0].wrapped)  # the first distance lies on this face
    for e in chamfer1_of_lpattern1_edges_16:
        chamfer1_of_lpattern1.Add(CHAMFER1_OF_LPATTERN1_SIZE, CHAMFER1_OF_LPATTERN1_SIZE2, e.wrapped, chamfer1_of_lpattern1_side_16[0].wrapped)  # the first distance lies on this face
    for e in chamfer1_of_lpattern1_edges_17:
        chamfer1_of_lpattern1.Add(CHAMFER1_OF_LPATTERN1_SIZE, CHAMFER1_OF_LPATTERN1_SIZE2, e.wrapped, chamfer1_of_lpattern1_side_17[0].wrapped)  # the first distance lies on this face
    for e in chamfer1_of_lpattern1_edges_18:
        chamfer1_of_lpattern1.Add(CHAMFER1_OF_LPATTERN1_SIZE, CHAMFER1_OF_LPATTERN1_SIZE2, e.wrapped, chamfer1_of_lpattern1_side_18[0].wrapped)  # the first distance lies on this face
    for e in chamfer1_of_lpattern1_edges_19:
        chamfer1_of_lpattern1.Add(CHAMFER1_OF_LPATTERN1_SIZE, CHAMFER1_OF_LPATTERN1_SIZE2, e.wrapped, chamfer1_of_lpattern1_side_19[0].wrapped)  # the first distance lies on this face
    for e in chamfer1_of_lpattern1_edges_20:
        chamfer1_of_lpattern1.Add(CHAMFER1_OF_LPATTERN1_SIZE, CHAMFER1_OF_LPATTERN1_SIZE2, e.wrapped, chamfer1_of_lpattern1_side_20[0].wrapped)  # the first distance lies on this face
    for e in chamfer1_of_lpattern1_edges_21:
        chamfer1_of_lpattern1.Add(CHAMFER1_OF_LPATTERN1_SIZE, CHAMFER1_OF_LPATTERN1_SIZE2, e.wrapped, chamfer1_of_lpattern1_side_21[0].wrapped)  # the first distance lies on this face
    for e in chamfer1_of_lpattern1_edges_22:
        chamfer1_of_lpattern1.Add(CHAMFER1_OF_LPATTERN1_SIZE, CHAMFER1_OF_LPATTERN1_SIZE2, e.wrapped, chamfer1_of_lpattern1_side_22[0].wrapped)  # the first distance lies on this face
    for e in chamfer1_of_lpattern1_edges_23:
        chamfer1_of_lpattern1.Add(CHAMFER1_OF_LPATTERN1_SIZE, CHAMFER1_OF_LPATTERN1_SIZE2, e.wrapped, chamfer1_of_lpattern1_side_23[0].wrapped)  # the first distance lies on this face
    for e in chamfer1_of_lpattern1_edges_24:
        chamfer1_of_lpattern1.Add(CHAMFER1_OF_LPATTERN1_SIZE, CHAMFER1_OF_LPATTERN1_SIZE2, e.wrapped, chamfer1_of_lpattern1_side_24[0].wrapped)  # the first distance lies on this face
    for e in chamfer1_of_lpattern1_edges_25:
        chamfer1_of_lpattern1.Add(CHAMFER1_OF_LPATTERN1_SIZE, CHAMFER1_OF_LPATTERN1_SIZE2, e.wrapped, chamfer1_of_lpattern1_side_25[0].wrapped)  # the first distance lies on this face
    for e in chamfer1_of_lpattern1_edges_26:
        chamfer1_of_lpattern1.Add(CHAMFER1_OF_LPATTERN1_SIZE, CHAMFER1_OF_LPATTERN1_SIZE2, e.wrapped, chamfer1_of_lpattern1_side_26[0].wrapped)  # the first distance lies on this face
    for e in chamfer1_of_lpattern1_edges_27:
        chamfer1_of_lpattern1.Add(CHAMFER1_OF_LPATTERN1_SIZE, CHAMFER1_OF_LPATTERN1_SIZE2, e.wrapped, chamfer1_of_lpattern1_side_27[0].wrapped)  # the first distance lies on this face
    for e in chamfer1_of_lpattern1_edges_28:
        chamfer1_of_lpattern1.Add(CHAMFER1_OF_LPATTERN1_SIZE, CHAMFER1_OF_LPATTERN1_SIZE2, e.wrapped, chamfer1_of_lpattern1_side_28[0].wrapped)  # the first distance lies on this face
    for e in chamfer1_of_lpattern1_edges_29:
        chamfer1_of_lpattern1.Add(CHAMFER1_OF_LPATTERN1_SIZE, CHAMFER1_OF_LPATTERN1_SIZE2, e.wrapped, chamfer1_of_lpattern1_side_29[0].wrapped)  # the first distance lies on this face
    for e in chamfer1_of_lpattern1_edges_30:
        chamfer1_of_lpattern1.Add(CHAMFER1_OF_LPATTERN1_SIZE, CHAMFER1_OF_LPATTERN1_SIZE2, e.wrapped, chamfer1_of_lpattern1_side_30[0].wrapped)  # the first distance lies on this face
    for e in chamfer1_of_lpattern1_edges_31:
        chamfer1_of_lpattern1.Add(CHAMFER1_OF_LPATTERN1_SIZE, CHAMFER1_OF_LPATTERN1_SIZE2, e.wrapped, chamfer1_of_lpattern1_side_31[0].wrapped)  # the first distance lies on this face
    for e in chamfer1_of_lpattern1_edges_32:
        chamfer1_of_lpattern1.Add(CHAMFER1_OF_LPATTERN1_SIZE, CHAMFER1_OF_LPATTERN1_SIZE2, e.wrapped, chamfer1_of_lpattern1_side_32[0].wrapped)  # the first distance lies on this face
    add(Compound.cast(chamfer1_of_lpattern1.Shape()), mode=Mode.REPLACE)

    # Sketch6 → Boss-Extrude6 (add)
    with BuildSketch(Plane(origin=(0, 1.4, 0), x_dir=(1, 0, 0), z_dir=(0, 1, 0))):
        with Locations((42.94, 20.1)):
            Rectangle(SKETCH6_W, SKETCH6_H)
    extrude(amount=BOSS_EXTRUDE6_DEPTH)

    # Sketch7 → Cut-Extrude2 (cut, through all)
    with BuildSketch(Plane(origin=(53.39, 0, 0), x_dir=(0, 0, -1), z_dir=(1, 0, 0))):
        with BuildLine():
            Line((15.1, 13.4), (15.1, 8.4))
            ThreePointArc((15.1, 8.4), (16.564466094, 11.935533906), (20.1, 13.4))
            Line((20.1, 13.4), (15.1, 13.4))
        make_face()
        with BuildLine():
            Line((25.1, 13.4), (20.1, 13.4))
            ThreePointArc((20.1, 13.4), (23.635533906, 11.935533906), (25.1, 8.4))
            Line((25.1, 8.4), (25.1, 13.4))
        make_face()
    extrude(amount=-CUT_EXTRUDE2_DEPTH, mode=Mode.SUBTRACT)


solid = part.part
